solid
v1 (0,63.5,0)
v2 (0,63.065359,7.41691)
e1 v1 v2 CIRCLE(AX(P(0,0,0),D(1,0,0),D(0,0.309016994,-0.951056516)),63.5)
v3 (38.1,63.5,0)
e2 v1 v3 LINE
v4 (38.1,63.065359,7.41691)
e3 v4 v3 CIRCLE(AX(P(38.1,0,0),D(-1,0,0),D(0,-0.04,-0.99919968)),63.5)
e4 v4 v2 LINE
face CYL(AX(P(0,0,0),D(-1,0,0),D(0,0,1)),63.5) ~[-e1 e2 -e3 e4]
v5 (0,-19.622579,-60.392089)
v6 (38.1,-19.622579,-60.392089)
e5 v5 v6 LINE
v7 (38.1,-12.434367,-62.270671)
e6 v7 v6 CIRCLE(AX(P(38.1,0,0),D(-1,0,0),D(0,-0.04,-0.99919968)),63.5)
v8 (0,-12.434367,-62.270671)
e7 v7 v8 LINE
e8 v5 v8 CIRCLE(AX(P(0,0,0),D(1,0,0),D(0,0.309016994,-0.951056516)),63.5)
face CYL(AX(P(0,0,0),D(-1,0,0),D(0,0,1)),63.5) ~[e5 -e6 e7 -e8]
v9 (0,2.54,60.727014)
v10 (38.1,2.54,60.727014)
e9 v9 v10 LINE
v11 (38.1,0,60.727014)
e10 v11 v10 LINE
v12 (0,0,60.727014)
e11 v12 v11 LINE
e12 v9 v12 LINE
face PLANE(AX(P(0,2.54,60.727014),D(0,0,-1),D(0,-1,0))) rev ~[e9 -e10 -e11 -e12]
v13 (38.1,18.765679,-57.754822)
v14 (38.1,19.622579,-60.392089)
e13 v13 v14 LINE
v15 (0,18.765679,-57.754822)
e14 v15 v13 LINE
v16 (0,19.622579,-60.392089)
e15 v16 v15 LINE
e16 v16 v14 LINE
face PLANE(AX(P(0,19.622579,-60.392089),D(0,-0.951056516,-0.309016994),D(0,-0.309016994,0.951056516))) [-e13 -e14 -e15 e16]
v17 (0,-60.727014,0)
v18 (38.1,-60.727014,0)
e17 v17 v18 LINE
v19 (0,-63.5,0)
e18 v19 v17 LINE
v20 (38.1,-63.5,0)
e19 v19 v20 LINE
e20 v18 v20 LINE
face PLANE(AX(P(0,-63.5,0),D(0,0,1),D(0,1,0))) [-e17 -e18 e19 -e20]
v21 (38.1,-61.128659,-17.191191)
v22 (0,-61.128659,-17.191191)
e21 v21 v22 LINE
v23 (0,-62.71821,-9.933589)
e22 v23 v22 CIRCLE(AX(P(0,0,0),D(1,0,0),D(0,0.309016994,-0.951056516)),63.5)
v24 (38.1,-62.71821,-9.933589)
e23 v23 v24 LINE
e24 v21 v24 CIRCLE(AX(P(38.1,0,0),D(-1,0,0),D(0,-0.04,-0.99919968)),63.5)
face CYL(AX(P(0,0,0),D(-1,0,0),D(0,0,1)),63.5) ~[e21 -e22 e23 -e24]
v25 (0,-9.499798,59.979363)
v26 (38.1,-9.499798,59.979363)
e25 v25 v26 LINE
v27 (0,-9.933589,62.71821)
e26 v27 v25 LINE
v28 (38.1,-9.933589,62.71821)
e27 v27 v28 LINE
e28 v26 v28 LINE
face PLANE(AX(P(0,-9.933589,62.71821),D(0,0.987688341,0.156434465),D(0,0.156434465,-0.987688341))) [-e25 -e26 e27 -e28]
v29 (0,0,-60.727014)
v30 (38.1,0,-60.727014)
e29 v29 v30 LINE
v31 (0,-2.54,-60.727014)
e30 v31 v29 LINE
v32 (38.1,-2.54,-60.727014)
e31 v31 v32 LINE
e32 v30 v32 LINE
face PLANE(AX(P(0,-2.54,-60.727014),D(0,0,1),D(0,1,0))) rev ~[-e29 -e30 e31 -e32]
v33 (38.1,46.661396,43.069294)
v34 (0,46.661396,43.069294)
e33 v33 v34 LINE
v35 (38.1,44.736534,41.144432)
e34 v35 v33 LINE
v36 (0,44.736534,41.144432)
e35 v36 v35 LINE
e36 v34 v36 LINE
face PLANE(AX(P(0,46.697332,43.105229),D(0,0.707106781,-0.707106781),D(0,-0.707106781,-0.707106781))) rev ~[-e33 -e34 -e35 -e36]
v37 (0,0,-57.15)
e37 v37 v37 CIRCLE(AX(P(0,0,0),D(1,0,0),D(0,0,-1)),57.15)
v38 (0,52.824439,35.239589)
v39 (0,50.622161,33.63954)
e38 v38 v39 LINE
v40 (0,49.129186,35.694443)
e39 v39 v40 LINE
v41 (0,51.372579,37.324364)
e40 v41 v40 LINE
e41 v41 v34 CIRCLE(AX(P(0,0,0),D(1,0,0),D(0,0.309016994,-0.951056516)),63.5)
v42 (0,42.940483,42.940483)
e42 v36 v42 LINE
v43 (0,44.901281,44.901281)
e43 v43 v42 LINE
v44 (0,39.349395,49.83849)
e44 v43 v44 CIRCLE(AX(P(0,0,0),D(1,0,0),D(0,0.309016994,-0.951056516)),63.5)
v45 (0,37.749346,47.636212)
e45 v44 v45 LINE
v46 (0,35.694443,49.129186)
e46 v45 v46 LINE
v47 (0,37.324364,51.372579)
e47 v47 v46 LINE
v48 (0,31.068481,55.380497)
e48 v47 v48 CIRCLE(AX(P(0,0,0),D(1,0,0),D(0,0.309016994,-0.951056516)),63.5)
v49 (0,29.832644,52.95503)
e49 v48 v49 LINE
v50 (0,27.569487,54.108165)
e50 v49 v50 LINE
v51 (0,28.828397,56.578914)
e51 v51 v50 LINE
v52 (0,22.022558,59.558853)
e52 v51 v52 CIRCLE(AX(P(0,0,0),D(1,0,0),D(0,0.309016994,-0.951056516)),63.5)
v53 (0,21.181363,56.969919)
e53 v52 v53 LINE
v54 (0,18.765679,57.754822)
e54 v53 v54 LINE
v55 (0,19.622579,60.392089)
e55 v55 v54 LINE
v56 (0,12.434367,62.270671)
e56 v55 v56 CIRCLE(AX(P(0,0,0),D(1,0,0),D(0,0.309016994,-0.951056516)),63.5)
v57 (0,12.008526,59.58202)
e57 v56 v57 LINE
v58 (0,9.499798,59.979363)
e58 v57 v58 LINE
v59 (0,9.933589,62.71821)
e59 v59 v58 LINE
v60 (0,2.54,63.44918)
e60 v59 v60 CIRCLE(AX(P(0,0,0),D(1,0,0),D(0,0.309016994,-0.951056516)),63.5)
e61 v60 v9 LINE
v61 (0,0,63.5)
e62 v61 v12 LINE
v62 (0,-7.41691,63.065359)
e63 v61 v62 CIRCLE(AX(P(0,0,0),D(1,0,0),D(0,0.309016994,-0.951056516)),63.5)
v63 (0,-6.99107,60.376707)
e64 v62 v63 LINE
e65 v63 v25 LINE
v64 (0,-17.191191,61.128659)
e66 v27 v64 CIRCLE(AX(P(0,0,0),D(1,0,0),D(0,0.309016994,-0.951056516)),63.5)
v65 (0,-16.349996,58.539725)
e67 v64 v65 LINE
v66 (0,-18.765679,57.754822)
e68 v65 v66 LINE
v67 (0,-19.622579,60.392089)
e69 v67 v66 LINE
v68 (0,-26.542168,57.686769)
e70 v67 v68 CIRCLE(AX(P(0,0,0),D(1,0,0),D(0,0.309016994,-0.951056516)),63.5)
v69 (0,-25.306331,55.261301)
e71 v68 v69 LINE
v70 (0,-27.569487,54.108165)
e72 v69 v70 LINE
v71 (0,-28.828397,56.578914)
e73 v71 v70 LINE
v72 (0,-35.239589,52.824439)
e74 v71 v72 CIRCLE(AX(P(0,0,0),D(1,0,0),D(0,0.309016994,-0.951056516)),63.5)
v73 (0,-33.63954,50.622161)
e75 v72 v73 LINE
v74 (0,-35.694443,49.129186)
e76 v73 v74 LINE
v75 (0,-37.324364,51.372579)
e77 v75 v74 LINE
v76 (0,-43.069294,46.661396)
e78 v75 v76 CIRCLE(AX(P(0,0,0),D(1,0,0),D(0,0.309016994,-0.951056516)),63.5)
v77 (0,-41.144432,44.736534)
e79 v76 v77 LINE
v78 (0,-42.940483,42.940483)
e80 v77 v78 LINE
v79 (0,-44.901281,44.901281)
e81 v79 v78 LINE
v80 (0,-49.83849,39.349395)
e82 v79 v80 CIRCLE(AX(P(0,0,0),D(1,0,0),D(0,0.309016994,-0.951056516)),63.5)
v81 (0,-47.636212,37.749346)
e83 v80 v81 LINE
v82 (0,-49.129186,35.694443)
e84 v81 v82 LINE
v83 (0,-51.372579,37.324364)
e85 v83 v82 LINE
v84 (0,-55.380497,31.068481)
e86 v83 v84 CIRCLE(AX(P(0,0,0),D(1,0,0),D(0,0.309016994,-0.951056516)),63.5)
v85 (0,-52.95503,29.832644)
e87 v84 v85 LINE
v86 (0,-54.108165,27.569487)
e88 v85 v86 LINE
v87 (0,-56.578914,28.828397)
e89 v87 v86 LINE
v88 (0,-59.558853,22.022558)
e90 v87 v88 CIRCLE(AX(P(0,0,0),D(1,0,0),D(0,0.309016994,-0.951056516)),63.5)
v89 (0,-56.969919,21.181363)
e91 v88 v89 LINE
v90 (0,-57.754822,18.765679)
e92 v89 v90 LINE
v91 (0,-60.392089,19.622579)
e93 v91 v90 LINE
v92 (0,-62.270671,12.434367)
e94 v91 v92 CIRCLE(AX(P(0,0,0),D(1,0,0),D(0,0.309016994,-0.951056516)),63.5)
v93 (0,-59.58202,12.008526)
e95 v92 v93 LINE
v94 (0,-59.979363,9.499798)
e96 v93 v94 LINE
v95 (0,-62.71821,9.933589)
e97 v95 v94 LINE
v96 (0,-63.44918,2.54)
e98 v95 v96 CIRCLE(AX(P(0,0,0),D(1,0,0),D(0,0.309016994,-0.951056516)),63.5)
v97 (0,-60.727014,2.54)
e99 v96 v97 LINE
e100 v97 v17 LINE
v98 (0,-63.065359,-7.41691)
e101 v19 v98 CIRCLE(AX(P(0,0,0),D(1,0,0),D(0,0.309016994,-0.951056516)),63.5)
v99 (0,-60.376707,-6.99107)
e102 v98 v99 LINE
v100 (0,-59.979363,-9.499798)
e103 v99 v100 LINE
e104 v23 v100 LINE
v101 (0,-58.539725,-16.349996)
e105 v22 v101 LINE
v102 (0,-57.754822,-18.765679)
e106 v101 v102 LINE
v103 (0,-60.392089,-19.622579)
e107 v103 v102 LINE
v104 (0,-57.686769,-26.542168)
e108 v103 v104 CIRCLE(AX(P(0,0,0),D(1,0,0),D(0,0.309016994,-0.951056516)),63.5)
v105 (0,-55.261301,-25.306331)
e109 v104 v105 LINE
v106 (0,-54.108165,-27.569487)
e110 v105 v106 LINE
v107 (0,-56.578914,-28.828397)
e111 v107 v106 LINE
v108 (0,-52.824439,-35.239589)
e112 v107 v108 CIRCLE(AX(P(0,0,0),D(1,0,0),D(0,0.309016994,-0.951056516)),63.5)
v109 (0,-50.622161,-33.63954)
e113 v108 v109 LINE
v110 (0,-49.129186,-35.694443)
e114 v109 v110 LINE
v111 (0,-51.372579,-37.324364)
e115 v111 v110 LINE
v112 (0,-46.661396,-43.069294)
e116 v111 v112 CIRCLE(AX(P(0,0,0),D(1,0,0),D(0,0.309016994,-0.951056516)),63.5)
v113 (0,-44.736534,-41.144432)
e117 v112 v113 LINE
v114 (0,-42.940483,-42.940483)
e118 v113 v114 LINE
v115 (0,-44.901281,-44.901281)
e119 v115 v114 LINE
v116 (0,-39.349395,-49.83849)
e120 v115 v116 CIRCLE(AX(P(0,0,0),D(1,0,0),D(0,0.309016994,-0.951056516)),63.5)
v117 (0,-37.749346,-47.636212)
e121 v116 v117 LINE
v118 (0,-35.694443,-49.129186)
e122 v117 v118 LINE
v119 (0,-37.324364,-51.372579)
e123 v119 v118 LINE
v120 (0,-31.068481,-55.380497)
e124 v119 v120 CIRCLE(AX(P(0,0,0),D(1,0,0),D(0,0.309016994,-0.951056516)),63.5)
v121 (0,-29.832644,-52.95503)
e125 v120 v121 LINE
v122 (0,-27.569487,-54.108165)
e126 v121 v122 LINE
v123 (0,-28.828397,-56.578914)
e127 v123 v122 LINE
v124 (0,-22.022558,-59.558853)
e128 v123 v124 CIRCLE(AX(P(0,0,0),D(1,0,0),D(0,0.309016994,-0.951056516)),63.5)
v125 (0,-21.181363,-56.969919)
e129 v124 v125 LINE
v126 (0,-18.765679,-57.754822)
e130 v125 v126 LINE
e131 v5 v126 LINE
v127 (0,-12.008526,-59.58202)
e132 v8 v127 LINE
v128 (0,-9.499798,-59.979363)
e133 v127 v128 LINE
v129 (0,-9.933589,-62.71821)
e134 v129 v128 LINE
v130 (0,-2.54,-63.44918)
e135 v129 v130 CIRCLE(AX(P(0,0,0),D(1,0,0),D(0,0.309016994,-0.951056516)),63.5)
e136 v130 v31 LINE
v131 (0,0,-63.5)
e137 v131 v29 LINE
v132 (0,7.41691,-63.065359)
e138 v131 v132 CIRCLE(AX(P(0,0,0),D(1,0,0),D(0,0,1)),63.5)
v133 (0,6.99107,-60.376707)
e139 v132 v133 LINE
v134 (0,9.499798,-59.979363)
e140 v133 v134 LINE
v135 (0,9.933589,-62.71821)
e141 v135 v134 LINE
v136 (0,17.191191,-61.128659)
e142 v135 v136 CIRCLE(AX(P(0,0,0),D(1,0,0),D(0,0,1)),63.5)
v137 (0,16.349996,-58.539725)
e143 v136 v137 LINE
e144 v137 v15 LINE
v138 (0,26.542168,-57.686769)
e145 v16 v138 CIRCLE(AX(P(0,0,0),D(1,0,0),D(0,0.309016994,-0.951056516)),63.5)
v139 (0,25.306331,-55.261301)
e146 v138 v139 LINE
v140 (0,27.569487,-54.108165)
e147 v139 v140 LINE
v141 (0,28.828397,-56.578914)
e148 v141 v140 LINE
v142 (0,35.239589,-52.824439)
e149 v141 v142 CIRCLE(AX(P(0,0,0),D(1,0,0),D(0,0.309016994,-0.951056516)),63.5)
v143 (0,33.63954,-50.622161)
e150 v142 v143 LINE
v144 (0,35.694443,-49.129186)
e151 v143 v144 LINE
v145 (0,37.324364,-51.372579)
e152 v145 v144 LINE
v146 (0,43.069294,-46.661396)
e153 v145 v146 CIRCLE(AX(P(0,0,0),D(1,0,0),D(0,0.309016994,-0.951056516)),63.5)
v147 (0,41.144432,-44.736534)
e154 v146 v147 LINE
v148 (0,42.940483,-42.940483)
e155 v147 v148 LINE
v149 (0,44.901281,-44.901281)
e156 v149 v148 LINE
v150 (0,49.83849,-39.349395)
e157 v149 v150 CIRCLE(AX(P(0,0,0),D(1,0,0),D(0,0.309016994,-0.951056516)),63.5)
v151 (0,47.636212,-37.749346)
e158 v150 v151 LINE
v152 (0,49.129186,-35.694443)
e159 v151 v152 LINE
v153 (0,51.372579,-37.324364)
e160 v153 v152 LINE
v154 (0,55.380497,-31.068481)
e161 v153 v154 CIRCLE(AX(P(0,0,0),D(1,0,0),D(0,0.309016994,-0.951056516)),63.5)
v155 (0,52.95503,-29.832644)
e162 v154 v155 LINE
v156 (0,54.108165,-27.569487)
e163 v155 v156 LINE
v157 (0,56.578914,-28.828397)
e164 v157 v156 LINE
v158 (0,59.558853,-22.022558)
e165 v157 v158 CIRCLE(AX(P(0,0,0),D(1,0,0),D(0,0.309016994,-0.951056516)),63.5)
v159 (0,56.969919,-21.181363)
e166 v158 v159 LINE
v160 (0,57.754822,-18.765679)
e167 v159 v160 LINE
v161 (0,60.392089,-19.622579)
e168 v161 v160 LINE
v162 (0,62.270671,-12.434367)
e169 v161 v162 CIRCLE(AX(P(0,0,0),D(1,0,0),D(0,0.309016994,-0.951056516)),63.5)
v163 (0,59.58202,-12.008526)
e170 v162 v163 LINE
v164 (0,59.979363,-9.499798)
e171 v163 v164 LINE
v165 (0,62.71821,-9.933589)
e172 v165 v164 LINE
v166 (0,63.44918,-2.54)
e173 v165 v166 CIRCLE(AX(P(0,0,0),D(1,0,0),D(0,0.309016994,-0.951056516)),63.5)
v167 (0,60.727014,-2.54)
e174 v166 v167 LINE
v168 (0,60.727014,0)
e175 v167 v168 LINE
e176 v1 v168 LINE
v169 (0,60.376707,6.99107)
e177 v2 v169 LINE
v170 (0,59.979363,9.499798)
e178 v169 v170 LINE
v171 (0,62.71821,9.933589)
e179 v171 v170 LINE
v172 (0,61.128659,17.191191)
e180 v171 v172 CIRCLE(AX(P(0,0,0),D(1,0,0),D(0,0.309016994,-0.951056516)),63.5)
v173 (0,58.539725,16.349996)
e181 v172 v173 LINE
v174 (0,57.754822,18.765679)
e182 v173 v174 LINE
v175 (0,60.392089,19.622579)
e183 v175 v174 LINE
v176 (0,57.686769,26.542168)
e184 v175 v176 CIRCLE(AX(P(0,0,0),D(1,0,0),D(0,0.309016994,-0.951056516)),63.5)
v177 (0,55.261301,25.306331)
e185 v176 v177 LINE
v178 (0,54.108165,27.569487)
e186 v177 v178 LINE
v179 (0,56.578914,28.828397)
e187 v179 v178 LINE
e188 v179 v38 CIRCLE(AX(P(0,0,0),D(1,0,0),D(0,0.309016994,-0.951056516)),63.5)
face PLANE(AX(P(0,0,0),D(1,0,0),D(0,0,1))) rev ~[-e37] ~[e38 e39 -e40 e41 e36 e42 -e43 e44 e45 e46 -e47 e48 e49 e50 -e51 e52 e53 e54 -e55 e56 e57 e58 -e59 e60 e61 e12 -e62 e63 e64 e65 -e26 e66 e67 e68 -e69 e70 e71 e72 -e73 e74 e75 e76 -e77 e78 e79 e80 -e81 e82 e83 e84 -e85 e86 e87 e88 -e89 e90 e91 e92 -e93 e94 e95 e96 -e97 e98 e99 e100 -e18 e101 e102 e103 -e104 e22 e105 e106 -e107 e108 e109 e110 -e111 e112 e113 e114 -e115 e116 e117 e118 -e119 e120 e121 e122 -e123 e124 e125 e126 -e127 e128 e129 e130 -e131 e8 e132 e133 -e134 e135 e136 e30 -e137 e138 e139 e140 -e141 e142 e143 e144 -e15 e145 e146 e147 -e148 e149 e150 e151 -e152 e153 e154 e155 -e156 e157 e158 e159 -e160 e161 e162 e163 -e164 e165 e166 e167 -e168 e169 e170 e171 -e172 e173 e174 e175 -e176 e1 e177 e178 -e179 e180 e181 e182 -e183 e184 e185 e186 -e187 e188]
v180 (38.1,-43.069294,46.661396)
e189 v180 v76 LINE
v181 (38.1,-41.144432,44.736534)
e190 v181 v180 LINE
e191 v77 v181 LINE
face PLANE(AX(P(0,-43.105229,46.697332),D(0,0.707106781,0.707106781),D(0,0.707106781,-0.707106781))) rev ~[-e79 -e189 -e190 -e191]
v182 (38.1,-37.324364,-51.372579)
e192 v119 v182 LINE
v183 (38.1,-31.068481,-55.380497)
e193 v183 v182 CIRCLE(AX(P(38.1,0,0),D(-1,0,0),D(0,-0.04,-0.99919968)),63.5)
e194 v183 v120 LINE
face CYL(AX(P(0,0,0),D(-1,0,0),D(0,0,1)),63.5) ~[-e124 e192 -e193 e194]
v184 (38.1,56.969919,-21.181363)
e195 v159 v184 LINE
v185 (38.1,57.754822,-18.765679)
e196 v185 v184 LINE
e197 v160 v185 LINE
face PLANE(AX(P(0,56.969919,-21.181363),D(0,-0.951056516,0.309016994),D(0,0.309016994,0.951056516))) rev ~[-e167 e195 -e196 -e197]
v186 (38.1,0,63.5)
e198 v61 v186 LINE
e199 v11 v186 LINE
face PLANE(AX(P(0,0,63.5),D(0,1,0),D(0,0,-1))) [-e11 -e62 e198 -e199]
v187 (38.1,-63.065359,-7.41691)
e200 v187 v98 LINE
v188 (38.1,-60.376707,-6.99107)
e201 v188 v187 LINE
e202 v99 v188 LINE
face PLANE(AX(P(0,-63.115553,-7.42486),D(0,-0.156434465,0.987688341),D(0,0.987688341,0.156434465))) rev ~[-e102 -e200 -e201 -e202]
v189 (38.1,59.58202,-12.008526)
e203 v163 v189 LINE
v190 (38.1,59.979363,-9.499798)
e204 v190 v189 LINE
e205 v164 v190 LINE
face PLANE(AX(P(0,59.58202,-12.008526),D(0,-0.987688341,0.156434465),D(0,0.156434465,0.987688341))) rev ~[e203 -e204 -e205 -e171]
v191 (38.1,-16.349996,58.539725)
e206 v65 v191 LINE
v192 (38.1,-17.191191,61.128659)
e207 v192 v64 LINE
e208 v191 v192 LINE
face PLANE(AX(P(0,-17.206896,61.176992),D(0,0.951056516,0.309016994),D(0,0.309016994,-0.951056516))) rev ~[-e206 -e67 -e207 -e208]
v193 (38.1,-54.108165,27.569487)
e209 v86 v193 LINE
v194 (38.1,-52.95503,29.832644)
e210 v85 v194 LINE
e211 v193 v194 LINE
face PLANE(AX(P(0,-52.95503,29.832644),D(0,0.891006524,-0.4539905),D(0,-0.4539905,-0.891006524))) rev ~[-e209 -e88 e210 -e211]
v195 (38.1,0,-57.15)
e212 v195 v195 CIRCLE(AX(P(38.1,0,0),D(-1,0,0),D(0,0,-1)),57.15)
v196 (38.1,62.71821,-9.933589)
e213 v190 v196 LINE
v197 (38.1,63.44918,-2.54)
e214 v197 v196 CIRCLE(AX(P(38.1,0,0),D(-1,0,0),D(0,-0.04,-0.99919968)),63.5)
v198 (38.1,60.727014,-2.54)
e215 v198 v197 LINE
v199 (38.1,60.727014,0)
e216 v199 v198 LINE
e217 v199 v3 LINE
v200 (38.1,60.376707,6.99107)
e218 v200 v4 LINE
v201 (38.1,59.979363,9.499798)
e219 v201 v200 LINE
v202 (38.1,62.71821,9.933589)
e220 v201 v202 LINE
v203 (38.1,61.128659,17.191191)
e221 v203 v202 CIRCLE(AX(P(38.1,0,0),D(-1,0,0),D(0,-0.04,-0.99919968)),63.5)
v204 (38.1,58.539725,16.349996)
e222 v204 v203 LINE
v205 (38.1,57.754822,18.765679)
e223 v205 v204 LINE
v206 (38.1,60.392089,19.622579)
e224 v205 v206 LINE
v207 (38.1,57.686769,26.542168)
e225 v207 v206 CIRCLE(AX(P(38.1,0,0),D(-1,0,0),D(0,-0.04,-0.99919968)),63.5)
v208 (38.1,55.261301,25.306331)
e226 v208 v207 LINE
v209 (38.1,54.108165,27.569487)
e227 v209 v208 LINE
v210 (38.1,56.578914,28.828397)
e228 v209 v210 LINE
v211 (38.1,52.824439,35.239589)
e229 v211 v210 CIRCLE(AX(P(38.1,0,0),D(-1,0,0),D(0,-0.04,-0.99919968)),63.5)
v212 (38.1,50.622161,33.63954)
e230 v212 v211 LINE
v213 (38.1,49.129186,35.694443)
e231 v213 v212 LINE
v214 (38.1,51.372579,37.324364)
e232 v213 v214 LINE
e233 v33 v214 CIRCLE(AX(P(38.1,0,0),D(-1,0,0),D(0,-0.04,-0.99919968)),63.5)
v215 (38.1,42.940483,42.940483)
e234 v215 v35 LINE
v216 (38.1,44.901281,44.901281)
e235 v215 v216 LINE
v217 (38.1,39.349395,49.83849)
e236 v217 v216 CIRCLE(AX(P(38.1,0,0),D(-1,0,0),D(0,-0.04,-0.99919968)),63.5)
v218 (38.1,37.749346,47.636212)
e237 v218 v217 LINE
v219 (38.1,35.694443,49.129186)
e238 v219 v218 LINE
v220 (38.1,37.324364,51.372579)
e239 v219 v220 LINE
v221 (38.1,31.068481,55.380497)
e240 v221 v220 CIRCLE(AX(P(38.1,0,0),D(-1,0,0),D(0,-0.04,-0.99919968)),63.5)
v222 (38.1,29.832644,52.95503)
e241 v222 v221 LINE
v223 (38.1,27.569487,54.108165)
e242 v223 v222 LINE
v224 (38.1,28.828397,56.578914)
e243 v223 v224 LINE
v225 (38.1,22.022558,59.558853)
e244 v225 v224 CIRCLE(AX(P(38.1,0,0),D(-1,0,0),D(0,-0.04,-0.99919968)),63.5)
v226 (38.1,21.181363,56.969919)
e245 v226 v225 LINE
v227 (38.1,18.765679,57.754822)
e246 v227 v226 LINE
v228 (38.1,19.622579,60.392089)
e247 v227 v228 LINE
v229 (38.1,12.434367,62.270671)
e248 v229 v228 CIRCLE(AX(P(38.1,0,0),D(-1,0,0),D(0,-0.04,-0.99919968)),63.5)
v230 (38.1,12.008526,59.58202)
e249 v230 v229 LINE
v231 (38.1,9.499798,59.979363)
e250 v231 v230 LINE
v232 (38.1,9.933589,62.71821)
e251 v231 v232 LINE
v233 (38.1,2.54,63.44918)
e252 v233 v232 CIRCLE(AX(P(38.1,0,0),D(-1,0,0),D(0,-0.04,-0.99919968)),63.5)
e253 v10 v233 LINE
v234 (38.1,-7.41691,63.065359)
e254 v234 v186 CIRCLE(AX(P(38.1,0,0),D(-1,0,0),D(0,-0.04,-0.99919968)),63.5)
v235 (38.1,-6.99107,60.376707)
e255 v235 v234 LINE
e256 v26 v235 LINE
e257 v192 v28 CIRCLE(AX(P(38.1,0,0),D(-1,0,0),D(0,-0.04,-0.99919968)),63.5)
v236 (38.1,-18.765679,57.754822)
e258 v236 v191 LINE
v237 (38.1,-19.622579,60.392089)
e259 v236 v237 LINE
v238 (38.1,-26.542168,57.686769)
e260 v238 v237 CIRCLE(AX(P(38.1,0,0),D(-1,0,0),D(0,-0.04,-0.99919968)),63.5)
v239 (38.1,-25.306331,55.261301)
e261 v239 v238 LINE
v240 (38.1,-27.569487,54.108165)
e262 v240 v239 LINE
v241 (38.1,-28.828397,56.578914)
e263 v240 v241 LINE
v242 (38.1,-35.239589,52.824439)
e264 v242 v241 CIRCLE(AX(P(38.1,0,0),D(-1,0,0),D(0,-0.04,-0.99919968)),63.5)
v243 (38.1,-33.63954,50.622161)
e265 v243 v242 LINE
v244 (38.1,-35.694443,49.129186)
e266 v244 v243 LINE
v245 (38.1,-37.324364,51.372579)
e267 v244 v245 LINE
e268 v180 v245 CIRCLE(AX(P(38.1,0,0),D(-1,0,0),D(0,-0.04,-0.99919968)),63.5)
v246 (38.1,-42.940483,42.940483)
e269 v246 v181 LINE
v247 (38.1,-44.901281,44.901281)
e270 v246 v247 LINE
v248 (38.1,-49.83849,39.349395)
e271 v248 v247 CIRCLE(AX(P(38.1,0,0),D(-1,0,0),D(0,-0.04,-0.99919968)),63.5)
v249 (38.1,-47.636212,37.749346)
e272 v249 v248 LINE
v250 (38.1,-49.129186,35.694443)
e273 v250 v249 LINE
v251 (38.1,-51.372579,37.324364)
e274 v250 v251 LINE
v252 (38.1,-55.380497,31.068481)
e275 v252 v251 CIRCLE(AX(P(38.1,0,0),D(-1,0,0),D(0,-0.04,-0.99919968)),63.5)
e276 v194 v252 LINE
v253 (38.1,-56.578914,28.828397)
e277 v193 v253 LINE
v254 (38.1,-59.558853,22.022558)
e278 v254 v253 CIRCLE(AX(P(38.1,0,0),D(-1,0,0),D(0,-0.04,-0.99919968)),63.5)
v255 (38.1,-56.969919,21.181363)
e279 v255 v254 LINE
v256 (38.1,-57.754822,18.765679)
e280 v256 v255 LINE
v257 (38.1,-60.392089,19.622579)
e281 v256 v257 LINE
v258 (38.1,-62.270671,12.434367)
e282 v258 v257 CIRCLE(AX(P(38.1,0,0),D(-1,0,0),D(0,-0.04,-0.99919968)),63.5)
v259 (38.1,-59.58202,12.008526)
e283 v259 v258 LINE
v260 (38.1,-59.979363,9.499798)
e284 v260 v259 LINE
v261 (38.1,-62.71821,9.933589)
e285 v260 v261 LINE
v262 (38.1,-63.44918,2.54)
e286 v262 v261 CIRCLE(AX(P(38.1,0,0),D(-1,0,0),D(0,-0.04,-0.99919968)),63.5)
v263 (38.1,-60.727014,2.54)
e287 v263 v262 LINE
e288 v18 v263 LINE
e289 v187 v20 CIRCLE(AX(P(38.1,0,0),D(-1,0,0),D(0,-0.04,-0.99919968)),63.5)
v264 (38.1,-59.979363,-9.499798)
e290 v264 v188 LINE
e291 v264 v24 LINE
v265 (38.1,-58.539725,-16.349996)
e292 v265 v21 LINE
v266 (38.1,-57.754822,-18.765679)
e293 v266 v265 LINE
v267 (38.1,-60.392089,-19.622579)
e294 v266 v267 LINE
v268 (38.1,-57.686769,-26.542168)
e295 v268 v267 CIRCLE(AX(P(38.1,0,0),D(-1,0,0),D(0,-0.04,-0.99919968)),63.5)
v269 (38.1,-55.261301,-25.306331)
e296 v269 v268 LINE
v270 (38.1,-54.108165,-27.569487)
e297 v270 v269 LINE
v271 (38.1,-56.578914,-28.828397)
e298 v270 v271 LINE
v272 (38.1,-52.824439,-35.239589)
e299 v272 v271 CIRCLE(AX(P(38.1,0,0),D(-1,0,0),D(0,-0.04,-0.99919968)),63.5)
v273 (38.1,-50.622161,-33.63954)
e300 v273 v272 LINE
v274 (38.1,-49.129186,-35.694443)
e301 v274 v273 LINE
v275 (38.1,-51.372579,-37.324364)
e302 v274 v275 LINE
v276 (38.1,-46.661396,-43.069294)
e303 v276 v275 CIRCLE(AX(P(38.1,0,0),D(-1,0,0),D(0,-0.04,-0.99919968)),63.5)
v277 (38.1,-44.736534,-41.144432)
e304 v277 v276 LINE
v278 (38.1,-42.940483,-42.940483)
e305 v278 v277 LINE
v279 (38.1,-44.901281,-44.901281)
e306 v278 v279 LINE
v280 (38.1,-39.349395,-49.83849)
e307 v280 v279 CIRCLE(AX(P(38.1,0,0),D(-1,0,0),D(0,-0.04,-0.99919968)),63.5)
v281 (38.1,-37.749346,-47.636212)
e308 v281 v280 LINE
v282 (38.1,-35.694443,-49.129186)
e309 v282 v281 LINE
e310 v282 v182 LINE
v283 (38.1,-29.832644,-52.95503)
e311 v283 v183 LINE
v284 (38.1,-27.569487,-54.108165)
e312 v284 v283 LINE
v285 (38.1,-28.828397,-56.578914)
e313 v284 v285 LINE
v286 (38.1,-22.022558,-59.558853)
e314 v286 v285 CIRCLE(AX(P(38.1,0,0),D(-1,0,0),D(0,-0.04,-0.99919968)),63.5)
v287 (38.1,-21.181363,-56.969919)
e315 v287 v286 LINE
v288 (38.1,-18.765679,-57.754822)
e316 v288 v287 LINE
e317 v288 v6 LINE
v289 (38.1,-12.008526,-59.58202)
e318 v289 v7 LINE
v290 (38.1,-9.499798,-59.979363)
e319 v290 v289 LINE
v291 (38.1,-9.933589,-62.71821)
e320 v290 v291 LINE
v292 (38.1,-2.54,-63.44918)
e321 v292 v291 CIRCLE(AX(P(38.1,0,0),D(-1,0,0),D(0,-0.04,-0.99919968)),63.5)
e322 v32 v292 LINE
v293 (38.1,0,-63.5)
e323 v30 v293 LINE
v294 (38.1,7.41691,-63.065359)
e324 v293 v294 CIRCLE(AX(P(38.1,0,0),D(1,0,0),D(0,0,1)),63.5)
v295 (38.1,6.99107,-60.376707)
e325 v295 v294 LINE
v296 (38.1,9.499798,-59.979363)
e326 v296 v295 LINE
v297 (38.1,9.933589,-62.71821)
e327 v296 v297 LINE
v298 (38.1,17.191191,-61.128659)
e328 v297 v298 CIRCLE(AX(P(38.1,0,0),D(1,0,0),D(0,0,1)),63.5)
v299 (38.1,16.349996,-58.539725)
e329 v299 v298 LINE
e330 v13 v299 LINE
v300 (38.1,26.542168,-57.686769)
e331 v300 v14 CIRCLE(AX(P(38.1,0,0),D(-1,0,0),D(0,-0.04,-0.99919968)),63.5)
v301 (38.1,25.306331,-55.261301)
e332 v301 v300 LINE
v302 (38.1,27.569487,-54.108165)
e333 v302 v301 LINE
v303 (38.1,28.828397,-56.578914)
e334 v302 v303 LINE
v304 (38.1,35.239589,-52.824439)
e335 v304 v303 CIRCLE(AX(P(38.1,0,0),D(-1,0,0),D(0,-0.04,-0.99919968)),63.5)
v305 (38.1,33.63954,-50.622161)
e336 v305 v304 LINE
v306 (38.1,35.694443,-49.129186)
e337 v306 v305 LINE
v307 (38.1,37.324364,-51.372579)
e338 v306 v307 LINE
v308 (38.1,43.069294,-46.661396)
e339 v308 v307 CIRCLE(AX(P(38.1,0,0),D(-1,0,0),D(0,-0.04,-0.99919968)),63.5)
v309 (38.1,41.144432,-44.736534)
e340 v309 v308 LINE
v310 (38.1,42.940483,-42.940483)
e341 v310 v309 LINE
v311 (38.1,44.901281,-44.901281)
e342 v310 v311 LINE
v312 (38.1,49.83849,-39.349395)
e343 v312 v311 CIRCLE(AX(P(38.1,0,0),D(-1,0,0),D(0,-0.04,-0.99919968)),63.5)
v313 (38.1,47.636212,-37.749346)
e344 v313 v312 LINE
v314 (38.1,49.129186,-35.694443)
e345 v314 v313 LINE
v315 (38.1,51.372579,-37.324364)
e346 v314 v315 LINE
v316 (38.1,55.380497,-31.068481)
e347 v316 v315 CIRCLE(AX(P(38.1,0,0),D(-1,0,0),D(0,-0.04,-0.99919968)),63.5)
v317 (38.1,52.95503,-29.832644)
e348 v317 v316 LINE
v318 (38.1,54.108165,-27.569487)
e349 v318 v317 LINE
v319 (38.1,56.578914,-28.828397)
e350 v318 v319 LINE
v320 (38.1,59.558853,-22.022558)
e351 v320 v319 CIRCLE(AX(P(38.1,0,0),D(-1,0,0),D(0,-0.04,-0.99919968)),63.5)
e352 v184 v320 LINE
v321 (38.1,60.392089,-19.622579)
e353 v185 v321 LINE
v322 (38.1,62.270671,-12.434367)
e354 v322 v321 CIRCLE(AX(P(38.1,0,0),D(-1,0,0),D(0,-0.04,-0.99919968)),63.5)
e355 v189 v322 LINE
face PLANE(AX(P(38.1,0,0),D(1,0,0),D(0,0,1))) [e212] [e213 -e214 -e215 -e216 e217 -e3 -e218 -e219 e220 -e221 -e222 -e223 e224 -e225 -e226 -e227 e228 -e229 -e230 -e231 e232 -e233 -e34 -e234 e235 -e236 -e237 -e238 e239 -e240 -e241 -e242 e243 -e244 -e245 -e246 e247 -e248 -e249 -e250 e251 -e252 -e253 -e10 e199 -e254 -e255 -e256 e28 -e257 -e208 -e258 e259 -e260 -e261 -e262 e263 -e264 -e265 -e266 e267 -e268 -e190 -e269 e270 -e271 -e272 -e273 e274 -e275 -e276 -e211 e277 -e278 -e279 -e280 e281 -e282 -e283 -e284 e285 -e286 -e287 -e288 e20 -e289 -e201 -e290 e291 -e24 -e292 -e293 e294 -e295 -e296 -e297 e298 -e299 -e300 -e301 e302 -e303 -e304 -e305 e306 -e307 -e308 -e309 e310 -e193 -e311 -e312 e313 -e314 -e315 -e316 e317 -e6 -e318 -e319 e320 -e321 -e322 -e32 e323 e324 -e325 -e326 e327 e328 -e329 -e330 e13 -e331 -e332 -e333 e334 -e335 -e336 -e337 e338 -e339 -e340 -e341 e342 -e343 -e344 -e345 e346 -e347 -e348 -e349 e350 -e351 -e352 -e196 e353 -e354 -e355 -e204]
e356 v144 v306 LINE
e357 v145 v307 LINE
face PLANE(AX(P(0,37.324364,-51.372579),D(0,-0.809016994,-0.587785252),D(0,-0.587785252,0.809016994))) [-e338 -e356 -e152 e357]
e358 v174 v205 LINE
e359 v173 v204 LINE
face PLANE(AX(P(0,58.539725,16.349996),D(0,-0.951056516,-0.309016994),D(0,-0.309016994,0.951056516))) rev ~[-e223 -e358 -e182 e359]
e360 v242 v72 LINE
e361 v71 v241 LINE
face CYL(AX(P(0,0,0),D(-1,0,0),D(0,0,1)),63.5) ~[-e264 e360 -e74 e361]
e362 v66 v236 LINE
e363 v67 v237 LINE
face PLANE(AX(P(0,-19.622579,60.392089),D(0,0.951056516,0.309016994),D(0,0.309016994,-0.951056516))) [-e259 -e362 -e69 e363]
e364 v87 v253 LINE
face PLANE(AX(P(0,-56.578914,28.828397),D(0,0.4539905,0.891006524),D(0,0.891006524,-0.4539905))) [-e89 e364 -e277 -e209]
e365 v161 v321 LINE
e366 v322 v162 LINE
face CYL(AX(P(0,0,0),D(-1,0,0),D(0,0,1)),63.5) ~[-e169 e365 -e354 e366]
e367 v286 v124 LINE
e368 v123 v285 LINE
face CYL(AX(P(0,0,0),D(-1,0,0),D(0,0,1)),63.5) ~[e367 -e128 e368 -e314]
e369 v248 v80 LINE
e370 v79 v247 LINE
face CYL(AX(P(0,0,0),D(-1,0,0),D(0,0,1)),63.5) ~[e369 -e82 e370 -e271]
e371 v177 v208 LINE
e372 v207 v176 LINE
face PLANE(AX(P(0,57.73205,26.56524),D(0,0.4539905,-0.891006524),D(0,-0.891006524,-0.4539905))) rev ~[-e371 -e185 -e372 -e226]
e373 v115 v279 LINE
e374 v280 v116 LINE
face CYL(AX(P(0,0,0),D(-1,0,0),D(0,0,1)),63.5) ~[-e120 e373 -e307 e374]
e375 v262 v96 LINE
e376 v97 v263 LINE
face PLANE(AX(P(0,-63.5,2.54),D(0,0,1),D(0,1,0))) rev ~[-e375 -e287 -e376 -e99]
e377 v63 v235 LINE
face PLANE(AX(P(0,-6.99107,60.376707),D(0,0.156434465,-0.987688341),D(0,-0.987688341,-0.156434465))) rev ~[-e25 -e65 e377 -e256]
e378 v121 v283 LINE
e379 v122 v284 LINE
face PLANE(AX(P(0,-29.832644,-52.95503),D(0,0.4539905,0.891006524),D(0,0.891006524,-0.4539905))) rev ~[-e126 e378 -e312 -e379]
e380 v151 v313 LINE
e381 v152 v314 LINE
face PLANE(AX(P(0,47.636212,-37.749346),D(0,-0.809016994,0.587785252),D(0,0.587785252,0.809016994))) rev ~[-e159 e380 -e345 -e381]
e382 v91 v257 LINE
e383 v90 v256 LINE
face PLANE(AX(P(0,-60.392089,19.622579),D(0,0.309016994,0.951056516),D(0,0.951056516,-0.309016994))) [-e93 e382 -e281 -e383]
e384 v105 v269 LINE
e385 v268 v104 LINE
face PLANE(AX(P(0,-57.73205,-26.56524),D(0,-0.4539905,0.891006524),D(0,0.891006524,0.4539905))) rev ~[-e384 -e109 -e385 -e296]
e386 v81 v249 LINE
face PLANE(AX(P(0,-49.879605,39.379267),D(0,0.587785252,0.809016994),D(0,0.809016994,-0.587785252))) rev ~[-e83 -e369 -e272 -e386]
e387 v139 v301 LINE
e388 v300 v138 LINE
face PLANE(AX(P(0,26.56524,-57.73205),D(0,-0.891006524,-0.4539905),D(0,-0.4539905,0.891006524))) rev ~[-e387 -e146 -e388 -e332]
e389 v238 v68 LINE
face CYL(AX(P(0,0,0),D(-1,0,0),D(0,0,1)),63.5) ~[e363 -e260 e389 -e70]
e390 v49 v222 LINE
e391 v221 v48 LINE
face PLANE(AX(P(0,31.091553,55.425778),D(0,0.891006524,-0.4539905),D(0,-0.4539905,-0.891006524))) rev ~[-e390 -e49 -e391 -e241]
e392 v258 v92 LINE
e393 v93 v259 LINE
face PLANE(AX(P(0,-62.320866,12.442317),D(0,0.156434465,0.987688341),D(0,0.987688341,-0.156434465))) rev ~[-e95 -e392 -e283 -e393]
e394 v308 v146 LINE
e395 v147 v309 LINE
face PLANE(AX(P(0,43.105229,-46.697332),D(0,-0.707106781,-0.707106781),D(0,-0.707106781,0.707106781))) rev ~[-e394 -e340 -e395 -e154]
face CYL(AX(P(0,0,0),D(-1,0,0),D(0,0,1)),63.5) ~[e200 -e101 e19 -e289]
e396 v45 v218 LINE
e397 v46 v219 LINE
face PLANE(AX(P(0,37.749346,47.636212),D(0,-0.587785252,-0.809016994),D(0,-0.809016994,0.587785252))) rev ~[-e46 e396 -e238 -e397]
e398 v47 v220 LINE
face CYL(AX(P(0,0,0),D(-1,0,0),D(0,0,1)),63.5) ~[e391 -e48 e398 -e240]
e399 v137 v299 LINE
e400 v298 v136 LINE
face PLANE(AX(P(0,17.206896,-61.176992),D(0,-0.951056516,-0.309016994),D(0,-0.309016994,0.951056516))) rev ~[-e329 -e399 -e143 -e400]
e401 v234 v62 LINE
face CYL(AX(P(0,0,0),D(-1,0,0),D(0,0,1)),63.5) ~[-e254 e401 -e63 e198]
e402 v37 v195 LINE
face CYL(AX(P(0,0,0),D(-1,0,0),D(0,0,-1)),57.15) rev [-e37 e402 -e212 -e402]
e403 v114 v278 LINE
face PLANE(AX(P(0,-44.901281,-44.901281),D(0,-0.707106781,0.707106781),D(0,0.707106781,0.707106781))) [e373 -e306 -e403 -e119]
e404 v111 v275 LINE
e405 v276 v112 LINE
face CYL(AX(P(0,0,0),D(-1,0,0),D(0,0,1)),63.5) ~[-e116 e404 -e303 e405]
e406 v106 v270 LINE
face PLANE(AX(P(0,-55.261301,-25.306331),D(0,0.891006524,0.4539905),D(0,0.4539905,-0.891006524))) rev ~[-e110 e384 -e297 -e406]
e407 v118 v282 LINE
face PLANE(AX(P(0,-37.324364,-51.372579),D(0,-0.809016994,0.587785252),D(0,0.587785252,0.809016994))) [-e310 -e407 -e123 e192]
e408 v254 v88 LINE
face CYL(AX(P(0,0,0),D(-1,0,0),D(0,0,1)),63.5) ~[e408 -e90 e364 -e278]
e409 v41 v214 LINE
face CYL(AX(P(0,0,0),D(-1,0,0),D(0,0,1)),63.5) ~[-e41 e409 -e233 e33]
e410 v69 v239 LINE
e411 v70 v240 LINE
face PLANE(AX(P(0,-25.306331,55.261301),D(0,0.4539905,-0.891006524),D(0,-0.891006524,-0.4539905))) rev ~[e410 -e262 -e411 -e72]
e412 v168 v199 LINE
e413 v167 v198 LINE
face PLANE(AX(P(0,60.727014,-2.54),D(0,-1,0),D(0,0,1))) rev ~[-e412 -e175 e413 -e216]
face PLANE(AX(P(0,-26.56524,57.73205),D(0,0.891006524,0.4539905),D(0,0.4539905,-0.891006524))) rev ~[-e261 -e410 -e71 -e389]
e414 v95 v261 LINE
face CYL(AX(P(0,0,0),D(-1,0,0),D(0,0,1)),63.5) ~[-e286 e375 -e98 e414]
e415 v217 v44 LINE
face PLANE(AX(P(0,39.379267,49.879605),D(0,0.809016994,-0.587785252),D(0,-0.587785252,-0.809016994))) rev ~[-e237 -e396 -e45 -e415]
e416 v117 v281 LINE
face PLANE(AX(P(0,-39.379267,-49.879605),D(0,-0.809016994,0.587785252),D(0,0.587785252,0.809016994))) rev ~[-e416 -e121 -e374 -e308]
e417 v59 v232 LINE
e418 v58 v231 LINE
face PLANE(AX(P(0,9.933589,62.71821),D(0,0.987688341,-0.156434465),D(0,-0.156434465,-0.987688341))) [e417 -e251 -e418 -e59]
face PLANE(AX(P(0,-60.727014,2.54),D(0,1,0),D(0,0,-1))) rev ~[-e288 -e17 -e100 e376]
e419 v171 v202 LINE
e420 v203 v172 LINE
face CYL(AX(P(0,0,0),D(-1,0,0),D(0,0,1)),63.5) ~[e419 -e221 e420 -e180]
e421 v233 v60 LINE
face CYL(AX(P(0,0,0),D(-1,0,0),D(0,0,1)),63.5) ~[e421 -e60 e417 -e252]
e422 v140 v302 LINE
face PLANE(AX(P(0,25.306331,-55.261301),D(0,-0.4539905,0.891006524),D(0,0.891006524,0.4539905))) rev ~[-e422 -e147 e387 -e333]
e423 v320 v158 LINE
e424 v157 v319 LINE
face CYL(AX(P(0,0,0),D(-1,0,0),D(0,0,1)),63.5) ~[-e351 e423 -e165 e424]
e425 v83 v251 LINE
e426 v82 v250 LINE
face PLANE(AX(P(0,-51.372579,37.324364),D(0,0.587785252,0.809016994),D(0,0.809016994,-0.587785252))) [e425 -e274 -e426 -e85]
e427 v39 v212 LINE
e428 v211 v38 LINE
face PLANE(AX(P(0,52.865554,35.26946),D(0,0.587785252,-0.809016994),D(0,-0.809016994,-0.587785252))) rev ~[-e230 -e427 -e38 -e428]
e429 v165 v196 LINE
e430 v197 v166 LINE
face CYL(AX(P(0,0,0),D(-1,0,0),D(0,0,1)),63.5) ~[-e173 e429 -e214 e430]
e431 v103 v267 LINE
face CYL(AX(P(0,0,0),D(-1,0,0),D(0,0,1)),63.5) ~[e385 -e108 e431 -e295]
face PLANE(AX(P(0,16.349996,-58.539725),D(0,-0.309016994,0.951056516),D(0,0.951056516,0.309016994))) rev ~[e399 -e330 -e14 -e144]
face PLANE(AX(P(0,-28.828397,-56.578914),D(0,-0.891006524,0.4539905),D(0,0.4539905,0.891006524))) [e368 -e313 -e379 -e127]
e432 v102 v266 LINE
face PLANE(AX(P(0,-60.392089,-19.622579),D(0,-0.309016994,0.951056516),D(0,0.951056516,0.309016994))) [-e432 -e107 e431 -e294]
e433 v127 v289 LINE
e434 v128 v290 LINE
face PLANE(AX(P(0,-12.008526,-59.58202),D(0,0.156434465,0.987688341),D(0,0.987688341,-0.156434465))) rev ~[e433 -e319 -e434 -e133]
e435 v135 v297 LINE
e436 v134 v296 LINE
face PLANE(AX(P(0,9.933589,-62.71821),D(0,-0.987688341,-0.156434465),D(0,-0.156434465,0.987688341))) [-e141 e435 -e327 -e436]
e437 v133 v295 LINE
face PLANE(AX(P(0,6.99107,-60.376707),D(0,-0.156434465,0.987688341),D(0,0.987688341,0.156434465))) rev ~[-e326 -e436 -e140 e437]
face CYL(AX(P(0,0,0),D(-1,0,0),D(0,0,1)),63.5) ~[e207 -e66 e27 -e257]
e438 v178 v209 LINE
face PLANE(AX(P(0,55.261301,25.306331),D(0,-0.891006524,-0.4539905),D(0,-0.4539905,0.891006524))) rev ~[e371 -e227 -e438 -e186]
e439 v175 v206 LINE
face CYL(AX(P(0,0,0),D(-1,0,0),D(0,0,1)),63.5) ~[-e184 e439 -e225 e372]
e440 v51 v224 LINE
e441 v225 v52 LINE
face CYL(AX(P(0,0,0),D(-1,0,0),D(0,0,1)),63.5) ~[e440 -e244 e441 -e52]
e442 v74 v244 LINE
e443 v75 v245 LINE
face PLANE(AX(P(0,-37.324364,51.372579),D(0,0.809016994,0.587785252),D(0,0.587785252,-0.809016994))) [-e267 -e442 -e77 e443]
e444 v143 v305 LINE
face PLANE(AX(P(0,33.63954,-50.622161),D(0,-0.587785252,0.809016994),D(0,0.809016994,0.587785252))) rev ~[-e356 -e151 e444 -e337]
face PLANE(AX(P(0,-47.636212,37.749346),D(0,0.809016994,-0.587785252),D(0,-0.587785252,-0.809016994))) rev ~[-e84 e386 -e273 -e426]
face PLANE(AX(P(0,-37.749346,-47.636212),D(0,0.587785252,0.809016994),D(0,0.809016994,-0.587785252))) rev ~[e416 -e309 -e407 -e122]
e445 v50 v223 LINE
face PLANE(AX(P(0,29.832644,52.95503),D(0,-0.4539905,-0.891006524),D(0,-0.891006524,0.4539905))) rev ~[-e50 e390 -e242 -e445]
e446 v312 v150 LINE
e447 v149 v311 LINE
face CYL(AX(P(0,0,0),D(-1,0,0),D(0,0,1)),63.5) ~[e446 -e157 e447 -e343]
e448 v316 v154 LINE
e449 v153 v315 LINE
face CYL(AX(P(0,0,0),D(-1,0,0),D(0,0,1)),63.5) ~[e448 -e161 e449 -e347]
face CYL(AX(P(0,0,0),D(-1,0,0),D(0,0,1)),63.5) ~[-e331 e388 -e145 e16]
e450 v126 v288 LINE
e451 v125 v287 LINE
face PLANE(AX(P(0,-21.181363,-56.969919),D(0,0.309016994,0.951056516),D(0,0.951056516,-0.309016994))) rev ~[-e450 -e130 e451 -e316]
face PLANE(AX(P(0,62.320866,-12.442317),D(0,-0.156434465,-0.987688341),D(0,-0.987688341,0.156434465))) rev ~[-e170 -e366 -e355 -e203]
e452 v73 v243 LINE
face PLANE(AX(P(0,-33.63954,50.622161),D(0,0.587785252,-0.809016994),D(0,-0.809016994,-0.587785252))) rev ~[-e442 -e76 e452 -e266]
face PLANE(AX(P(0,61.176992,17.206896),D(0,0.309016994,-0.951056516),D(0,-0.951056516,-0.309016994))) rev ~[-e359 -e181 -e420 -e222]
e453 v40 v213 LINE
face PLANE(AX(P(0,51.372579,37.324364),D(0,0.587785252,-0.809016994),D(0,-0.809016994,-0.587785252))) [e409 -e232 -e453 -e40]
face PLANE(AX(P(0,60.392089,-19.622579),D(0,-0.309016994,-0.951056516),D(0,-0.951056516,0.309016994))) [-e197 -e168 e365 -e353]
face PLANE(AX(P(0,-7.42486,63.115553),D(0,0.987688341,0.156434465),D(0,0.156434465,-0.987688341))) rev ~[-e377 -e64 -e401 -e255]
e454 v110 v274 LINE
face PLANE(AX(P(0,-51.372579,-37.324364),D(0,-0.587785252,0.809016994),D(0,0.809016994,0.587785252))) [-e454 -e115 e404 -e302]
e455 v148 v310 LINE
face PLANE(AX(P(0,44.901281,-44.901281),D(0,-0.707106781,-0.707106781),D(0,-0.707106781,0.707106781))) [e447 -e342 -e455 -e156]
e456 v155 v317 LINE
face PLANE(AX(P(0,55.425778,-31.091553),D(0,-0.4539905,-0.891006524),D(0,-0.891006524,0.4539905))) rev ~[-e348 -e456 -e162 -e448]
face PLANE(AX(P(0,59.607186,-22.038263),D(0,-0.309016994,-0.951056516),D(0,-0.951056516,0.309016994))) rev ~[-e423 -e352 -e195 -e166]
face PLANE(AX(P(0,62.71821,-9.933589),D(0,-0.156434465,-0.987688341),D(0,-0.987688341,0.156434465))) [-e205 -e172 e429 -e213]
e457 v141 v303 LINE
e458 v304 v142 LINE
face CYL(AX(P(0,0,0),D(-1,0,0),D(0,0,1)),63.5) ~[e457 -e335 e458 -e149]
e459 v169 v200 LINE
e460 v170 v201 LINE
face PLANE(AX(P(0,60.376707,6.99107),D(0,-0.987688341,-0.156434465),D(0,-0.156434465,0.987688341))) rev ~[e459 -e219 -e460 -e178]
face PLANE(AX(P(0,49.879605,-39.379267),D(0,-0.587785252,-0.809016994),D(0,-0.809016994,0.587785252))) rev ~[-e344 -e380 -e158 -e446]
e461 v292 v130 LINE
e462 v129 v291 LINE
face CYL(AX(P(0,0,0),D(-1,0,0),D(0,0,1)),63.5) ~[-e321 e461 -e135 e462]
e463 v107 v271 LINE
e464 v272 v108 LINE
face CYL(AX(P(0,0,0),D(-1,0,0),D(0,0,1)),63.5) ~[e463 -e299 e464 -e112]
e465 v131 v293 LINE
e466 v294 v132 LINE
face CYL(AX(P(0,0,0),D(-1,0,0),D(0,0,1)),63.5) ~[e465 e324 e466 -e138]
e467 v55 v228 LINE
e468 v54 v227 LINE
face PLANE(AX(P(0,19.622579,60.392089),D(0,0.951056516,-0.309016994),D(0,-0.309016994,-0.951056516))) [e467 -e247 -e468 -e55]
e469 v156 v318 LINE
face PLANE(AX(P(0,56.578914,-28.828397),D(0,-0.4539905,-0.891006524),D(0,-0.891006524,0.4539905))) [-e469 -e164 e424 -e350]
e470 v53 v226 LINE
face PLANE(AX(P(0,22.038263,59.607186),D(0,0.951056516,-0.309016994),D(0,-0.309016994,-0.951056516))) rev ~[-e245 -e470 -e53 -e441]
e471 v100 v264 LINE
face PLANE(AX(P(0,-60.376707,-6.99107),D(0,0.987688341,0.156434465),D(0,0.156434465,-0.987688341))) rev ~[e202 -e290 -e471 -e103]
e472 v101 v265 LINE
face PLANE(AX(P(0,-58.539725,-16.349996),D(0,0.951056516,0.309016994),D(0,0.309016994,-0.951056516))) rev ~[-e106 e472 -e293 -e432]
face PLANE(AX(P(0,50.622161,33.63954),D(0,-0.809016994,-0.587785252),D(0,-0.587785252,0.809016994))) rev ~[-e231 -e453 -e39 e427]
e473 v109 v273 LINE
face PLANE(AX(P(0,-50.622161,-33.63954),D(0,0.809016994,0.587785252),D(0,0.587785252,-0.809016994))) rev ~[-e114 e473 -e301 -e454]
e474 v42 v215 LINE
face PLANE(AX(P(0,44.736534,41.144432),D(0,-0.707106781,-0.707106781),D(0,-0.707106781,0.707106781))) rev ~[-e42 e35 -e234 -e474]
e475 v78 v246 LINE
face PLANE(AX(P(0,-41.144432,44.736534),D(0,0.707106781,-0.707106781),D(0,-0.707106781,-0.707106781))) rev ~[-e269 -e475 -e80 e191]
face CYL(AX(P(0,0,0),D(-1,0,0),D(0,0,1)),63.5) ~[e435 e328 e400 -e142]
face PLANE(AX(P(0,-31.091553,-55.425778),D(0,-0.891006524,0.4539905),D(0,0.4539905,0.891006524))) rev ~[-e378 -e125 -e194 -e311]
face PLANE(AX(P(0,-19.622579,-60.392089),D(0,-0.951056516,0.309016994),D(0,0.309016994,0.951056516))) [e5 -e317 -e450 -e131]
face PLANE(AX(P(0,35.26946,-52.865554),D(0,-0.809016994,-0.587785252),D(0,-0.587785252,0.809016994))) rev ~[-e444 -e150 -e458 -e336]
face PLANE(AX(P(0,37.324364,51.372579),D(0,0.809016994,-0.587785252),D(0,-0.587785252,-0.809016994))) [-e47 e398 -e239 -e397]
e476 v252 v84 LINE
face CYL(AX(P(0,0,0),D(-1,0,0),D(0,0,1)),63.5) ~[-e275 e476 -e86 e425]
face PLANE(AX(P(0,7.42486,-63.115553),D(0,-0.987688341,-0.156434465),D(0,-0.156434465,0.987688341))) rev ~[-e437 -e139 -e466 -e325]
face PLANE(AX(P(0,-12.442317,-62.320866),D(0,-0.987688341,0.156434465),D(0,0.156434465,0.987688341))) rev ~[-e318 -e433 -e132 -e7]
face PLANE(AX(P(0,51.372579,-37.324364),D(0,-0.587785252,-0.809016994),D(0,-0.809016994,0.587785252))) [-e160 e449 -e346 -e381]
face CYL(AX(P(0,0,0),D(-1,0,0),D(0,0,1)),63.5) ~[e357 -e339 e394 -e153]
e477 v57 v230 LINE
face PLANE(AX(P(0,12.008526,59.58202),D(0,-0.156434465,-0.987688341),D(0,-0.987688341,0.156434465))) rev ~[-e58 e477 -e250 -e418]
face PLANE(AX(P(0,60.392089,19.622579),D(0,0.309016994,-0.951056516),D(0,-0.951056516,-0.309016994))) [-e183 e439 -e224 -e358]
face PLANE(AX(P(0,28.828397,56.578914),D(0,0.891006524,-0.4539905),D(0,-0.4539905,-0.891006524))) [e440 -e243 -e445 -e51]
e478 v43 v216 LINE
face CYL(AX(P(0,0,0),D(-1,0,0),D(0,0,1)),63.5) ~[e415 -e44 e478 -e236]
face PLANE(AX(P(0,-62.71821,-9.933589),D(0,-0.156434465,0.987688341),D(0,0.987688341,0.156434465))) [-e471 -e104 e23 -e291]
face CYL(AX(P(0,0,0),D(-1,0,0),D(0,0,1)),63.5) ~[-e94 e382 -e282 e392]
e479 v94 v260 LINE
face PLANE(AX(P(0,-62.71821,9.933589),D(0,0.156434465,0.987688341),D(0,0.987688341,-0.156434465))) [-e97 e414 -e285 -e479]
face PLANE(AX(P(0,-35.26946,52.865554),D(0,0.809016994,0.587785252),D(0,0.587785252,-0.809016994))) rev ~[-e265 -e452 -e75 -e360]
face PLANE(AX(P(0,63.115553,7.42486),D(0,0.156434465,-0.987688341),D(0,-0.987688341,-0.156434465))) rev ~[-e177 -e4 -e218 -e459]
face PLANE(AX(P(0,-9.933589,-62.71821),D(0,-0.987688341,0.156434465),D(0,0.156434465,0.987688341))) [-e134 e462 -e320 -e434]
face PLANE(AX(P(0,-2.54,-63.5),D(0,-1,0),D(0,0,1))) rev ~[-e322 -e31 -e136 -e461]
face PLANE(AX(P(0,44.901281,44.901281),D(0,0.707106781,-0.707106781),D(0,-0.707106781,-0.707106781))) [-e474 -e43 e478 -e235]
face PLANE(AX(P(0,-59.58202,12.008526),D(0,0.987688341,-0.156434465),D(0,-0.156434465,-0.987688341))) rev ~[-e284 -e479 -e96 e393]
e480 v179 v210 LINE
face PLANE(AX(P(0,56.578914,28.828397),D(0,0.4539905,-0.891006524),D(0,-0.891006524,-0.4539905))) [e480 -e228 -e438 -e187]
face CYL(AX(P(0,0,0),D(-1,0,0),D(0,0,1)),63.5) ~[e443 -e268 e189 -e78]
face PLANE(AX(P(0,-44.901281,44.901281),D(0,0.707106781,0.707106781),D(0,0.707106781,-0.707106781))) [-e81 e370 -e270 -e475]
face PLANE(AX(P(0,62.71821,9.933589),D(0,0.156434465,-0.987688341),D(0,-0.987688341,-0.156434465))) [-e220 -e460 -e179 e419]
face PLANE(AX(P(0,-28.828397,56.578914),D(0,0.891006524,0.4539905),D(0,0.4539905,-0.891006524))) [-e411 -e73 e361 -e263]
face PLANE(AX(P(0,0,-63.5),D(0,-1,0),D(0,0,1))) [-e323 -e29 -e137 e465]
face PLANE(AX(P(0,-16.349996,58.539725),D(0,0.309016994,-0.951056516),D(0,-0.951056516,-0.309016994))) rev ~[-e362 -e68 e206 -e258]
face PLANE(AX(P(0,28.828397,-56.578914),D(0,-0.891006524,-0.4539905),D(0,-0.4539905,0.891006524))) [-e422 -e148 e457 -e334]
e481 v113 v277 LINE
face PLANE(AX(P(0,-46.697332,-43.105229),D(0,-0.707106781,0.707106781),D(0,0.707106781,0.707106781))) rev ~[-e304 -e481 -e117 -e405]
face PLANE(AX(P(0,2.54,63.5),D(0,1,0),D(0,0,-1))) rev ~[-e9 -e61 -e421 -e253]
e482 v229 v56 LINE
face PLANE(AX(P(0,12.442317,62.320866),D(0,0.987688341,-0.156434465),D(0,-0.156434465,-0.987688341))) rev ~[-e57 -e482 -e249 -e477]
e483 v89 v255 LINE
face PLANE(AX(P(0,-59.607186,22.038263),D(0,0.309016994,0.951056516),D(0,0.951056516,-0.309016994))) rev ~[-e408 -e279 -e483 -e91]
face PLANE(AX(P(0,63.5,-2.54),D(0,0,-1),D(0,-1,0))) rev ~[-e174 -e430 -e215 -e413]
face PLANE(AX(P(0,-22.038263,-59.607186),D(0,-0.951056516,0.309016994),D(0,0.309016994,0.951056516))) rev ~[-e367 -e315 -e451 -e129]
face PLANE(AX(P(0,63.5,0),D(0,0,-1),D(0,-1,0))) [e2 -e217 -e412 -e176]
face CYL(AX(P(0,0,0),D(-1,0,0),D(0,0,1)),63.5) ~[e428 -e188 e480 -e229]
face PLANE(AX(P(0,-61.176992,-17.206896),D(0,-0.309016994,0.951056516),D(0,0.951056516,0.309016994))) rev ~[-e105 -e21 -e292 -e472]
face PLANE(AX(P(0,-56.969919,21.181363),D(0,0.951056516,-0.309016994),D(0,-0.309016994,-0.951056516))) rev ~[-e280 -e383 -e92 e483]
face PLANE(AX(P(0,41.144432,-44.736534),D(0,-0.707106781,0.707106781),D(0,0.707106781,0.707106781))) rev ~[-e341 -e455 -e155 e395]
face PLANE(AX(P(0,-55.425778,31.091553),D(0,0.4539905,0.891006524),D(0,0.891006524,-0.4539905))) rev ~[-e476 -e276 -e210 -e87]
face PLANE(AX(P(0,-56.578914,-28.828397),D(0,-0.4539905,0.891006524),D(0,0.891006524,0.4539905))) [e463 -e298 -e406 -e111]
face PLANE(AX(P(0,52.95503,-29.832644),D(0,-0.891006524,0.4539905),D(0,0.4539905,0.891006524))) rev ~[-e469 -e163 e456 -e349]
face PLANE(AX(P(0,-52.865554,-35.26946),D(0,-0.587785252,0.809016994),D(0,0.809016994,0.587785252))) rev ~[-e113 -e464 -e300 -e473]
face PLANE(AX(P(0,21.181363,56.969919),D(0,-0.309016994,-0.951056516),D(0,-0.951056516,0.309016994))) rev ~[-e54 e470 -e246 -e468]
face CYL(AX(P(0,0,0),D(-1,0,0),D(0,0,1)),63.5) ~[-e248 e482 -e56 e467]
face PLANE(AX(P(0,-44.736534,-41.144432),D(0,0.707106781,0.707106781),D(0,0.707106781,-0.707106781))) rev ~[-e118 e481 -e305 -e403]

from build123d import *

# Parameters (mm, degrees)
SKETCH1_R           = 63.5
BOSS_EXTRUDE1_DEPTH = 38.1
SKETCH2_R           = 57.15
CUT_EXTRUDE4_DEPTH  = 40.64
SKETCH4_W           = 2.772986199
SKETCH4_H           = 2.54
CUT_EXTRUDE7_DEPTH  = 40.64
CIRPATTERN1_COUNT   = 40


with BuildPart() as part:
    # Sketch1 → Boss-Extrude1 (new body)
    with BuildSketch(Plane(origin=(0, 0, 0), x_dir=(0, 0, -1), z_dir=(1, 0, 0))):
        with Locations(Location((0, 0, 0), (0, 0, 180))):
            Circle(SKETCH1_R)
    extrude(amount=BOSS_EXTRUDE1_DEPTH)

    # Sketch2 → Cut-Extrude4 (cut)
    with BuildSketch(Plane(origin=(0, 0, 0), x_dir=(0, 0, -1), z_dir=(1, 0, 0))):
        Circle(SKETCH2_R)
    extrude(amount=CUT_EXTRUDE4_DEPTH, mode=Mode.SUBTRACT)

    # Sketch4 → Cut-Extrude7 (cut)
    with BuildSketch(Plane.ZY):
        with Locations((-62.113506901, -1.27)):
            Rectangle(SKETCH4_W, SKETCH4_H)
    cut_extrude7 = extrude(amount=-CUT_EXTRUDE7_DEPTH, mode=Mode.SUBTRACT)

    # CirPattern1: Cut-Extrude7 ×40 about axis
    cirpattern1_axis = Axis((0, 0, 0), (1, 0, 0))
    for i in range(1, CIRPATTERN1_COUNT):
        add(cut_extrude7.rotate(cirpattern1_axis, i * 360 / CIRPATTERN1_COUNT), mode=Mode.SUBTRACT)


solid = part.part
